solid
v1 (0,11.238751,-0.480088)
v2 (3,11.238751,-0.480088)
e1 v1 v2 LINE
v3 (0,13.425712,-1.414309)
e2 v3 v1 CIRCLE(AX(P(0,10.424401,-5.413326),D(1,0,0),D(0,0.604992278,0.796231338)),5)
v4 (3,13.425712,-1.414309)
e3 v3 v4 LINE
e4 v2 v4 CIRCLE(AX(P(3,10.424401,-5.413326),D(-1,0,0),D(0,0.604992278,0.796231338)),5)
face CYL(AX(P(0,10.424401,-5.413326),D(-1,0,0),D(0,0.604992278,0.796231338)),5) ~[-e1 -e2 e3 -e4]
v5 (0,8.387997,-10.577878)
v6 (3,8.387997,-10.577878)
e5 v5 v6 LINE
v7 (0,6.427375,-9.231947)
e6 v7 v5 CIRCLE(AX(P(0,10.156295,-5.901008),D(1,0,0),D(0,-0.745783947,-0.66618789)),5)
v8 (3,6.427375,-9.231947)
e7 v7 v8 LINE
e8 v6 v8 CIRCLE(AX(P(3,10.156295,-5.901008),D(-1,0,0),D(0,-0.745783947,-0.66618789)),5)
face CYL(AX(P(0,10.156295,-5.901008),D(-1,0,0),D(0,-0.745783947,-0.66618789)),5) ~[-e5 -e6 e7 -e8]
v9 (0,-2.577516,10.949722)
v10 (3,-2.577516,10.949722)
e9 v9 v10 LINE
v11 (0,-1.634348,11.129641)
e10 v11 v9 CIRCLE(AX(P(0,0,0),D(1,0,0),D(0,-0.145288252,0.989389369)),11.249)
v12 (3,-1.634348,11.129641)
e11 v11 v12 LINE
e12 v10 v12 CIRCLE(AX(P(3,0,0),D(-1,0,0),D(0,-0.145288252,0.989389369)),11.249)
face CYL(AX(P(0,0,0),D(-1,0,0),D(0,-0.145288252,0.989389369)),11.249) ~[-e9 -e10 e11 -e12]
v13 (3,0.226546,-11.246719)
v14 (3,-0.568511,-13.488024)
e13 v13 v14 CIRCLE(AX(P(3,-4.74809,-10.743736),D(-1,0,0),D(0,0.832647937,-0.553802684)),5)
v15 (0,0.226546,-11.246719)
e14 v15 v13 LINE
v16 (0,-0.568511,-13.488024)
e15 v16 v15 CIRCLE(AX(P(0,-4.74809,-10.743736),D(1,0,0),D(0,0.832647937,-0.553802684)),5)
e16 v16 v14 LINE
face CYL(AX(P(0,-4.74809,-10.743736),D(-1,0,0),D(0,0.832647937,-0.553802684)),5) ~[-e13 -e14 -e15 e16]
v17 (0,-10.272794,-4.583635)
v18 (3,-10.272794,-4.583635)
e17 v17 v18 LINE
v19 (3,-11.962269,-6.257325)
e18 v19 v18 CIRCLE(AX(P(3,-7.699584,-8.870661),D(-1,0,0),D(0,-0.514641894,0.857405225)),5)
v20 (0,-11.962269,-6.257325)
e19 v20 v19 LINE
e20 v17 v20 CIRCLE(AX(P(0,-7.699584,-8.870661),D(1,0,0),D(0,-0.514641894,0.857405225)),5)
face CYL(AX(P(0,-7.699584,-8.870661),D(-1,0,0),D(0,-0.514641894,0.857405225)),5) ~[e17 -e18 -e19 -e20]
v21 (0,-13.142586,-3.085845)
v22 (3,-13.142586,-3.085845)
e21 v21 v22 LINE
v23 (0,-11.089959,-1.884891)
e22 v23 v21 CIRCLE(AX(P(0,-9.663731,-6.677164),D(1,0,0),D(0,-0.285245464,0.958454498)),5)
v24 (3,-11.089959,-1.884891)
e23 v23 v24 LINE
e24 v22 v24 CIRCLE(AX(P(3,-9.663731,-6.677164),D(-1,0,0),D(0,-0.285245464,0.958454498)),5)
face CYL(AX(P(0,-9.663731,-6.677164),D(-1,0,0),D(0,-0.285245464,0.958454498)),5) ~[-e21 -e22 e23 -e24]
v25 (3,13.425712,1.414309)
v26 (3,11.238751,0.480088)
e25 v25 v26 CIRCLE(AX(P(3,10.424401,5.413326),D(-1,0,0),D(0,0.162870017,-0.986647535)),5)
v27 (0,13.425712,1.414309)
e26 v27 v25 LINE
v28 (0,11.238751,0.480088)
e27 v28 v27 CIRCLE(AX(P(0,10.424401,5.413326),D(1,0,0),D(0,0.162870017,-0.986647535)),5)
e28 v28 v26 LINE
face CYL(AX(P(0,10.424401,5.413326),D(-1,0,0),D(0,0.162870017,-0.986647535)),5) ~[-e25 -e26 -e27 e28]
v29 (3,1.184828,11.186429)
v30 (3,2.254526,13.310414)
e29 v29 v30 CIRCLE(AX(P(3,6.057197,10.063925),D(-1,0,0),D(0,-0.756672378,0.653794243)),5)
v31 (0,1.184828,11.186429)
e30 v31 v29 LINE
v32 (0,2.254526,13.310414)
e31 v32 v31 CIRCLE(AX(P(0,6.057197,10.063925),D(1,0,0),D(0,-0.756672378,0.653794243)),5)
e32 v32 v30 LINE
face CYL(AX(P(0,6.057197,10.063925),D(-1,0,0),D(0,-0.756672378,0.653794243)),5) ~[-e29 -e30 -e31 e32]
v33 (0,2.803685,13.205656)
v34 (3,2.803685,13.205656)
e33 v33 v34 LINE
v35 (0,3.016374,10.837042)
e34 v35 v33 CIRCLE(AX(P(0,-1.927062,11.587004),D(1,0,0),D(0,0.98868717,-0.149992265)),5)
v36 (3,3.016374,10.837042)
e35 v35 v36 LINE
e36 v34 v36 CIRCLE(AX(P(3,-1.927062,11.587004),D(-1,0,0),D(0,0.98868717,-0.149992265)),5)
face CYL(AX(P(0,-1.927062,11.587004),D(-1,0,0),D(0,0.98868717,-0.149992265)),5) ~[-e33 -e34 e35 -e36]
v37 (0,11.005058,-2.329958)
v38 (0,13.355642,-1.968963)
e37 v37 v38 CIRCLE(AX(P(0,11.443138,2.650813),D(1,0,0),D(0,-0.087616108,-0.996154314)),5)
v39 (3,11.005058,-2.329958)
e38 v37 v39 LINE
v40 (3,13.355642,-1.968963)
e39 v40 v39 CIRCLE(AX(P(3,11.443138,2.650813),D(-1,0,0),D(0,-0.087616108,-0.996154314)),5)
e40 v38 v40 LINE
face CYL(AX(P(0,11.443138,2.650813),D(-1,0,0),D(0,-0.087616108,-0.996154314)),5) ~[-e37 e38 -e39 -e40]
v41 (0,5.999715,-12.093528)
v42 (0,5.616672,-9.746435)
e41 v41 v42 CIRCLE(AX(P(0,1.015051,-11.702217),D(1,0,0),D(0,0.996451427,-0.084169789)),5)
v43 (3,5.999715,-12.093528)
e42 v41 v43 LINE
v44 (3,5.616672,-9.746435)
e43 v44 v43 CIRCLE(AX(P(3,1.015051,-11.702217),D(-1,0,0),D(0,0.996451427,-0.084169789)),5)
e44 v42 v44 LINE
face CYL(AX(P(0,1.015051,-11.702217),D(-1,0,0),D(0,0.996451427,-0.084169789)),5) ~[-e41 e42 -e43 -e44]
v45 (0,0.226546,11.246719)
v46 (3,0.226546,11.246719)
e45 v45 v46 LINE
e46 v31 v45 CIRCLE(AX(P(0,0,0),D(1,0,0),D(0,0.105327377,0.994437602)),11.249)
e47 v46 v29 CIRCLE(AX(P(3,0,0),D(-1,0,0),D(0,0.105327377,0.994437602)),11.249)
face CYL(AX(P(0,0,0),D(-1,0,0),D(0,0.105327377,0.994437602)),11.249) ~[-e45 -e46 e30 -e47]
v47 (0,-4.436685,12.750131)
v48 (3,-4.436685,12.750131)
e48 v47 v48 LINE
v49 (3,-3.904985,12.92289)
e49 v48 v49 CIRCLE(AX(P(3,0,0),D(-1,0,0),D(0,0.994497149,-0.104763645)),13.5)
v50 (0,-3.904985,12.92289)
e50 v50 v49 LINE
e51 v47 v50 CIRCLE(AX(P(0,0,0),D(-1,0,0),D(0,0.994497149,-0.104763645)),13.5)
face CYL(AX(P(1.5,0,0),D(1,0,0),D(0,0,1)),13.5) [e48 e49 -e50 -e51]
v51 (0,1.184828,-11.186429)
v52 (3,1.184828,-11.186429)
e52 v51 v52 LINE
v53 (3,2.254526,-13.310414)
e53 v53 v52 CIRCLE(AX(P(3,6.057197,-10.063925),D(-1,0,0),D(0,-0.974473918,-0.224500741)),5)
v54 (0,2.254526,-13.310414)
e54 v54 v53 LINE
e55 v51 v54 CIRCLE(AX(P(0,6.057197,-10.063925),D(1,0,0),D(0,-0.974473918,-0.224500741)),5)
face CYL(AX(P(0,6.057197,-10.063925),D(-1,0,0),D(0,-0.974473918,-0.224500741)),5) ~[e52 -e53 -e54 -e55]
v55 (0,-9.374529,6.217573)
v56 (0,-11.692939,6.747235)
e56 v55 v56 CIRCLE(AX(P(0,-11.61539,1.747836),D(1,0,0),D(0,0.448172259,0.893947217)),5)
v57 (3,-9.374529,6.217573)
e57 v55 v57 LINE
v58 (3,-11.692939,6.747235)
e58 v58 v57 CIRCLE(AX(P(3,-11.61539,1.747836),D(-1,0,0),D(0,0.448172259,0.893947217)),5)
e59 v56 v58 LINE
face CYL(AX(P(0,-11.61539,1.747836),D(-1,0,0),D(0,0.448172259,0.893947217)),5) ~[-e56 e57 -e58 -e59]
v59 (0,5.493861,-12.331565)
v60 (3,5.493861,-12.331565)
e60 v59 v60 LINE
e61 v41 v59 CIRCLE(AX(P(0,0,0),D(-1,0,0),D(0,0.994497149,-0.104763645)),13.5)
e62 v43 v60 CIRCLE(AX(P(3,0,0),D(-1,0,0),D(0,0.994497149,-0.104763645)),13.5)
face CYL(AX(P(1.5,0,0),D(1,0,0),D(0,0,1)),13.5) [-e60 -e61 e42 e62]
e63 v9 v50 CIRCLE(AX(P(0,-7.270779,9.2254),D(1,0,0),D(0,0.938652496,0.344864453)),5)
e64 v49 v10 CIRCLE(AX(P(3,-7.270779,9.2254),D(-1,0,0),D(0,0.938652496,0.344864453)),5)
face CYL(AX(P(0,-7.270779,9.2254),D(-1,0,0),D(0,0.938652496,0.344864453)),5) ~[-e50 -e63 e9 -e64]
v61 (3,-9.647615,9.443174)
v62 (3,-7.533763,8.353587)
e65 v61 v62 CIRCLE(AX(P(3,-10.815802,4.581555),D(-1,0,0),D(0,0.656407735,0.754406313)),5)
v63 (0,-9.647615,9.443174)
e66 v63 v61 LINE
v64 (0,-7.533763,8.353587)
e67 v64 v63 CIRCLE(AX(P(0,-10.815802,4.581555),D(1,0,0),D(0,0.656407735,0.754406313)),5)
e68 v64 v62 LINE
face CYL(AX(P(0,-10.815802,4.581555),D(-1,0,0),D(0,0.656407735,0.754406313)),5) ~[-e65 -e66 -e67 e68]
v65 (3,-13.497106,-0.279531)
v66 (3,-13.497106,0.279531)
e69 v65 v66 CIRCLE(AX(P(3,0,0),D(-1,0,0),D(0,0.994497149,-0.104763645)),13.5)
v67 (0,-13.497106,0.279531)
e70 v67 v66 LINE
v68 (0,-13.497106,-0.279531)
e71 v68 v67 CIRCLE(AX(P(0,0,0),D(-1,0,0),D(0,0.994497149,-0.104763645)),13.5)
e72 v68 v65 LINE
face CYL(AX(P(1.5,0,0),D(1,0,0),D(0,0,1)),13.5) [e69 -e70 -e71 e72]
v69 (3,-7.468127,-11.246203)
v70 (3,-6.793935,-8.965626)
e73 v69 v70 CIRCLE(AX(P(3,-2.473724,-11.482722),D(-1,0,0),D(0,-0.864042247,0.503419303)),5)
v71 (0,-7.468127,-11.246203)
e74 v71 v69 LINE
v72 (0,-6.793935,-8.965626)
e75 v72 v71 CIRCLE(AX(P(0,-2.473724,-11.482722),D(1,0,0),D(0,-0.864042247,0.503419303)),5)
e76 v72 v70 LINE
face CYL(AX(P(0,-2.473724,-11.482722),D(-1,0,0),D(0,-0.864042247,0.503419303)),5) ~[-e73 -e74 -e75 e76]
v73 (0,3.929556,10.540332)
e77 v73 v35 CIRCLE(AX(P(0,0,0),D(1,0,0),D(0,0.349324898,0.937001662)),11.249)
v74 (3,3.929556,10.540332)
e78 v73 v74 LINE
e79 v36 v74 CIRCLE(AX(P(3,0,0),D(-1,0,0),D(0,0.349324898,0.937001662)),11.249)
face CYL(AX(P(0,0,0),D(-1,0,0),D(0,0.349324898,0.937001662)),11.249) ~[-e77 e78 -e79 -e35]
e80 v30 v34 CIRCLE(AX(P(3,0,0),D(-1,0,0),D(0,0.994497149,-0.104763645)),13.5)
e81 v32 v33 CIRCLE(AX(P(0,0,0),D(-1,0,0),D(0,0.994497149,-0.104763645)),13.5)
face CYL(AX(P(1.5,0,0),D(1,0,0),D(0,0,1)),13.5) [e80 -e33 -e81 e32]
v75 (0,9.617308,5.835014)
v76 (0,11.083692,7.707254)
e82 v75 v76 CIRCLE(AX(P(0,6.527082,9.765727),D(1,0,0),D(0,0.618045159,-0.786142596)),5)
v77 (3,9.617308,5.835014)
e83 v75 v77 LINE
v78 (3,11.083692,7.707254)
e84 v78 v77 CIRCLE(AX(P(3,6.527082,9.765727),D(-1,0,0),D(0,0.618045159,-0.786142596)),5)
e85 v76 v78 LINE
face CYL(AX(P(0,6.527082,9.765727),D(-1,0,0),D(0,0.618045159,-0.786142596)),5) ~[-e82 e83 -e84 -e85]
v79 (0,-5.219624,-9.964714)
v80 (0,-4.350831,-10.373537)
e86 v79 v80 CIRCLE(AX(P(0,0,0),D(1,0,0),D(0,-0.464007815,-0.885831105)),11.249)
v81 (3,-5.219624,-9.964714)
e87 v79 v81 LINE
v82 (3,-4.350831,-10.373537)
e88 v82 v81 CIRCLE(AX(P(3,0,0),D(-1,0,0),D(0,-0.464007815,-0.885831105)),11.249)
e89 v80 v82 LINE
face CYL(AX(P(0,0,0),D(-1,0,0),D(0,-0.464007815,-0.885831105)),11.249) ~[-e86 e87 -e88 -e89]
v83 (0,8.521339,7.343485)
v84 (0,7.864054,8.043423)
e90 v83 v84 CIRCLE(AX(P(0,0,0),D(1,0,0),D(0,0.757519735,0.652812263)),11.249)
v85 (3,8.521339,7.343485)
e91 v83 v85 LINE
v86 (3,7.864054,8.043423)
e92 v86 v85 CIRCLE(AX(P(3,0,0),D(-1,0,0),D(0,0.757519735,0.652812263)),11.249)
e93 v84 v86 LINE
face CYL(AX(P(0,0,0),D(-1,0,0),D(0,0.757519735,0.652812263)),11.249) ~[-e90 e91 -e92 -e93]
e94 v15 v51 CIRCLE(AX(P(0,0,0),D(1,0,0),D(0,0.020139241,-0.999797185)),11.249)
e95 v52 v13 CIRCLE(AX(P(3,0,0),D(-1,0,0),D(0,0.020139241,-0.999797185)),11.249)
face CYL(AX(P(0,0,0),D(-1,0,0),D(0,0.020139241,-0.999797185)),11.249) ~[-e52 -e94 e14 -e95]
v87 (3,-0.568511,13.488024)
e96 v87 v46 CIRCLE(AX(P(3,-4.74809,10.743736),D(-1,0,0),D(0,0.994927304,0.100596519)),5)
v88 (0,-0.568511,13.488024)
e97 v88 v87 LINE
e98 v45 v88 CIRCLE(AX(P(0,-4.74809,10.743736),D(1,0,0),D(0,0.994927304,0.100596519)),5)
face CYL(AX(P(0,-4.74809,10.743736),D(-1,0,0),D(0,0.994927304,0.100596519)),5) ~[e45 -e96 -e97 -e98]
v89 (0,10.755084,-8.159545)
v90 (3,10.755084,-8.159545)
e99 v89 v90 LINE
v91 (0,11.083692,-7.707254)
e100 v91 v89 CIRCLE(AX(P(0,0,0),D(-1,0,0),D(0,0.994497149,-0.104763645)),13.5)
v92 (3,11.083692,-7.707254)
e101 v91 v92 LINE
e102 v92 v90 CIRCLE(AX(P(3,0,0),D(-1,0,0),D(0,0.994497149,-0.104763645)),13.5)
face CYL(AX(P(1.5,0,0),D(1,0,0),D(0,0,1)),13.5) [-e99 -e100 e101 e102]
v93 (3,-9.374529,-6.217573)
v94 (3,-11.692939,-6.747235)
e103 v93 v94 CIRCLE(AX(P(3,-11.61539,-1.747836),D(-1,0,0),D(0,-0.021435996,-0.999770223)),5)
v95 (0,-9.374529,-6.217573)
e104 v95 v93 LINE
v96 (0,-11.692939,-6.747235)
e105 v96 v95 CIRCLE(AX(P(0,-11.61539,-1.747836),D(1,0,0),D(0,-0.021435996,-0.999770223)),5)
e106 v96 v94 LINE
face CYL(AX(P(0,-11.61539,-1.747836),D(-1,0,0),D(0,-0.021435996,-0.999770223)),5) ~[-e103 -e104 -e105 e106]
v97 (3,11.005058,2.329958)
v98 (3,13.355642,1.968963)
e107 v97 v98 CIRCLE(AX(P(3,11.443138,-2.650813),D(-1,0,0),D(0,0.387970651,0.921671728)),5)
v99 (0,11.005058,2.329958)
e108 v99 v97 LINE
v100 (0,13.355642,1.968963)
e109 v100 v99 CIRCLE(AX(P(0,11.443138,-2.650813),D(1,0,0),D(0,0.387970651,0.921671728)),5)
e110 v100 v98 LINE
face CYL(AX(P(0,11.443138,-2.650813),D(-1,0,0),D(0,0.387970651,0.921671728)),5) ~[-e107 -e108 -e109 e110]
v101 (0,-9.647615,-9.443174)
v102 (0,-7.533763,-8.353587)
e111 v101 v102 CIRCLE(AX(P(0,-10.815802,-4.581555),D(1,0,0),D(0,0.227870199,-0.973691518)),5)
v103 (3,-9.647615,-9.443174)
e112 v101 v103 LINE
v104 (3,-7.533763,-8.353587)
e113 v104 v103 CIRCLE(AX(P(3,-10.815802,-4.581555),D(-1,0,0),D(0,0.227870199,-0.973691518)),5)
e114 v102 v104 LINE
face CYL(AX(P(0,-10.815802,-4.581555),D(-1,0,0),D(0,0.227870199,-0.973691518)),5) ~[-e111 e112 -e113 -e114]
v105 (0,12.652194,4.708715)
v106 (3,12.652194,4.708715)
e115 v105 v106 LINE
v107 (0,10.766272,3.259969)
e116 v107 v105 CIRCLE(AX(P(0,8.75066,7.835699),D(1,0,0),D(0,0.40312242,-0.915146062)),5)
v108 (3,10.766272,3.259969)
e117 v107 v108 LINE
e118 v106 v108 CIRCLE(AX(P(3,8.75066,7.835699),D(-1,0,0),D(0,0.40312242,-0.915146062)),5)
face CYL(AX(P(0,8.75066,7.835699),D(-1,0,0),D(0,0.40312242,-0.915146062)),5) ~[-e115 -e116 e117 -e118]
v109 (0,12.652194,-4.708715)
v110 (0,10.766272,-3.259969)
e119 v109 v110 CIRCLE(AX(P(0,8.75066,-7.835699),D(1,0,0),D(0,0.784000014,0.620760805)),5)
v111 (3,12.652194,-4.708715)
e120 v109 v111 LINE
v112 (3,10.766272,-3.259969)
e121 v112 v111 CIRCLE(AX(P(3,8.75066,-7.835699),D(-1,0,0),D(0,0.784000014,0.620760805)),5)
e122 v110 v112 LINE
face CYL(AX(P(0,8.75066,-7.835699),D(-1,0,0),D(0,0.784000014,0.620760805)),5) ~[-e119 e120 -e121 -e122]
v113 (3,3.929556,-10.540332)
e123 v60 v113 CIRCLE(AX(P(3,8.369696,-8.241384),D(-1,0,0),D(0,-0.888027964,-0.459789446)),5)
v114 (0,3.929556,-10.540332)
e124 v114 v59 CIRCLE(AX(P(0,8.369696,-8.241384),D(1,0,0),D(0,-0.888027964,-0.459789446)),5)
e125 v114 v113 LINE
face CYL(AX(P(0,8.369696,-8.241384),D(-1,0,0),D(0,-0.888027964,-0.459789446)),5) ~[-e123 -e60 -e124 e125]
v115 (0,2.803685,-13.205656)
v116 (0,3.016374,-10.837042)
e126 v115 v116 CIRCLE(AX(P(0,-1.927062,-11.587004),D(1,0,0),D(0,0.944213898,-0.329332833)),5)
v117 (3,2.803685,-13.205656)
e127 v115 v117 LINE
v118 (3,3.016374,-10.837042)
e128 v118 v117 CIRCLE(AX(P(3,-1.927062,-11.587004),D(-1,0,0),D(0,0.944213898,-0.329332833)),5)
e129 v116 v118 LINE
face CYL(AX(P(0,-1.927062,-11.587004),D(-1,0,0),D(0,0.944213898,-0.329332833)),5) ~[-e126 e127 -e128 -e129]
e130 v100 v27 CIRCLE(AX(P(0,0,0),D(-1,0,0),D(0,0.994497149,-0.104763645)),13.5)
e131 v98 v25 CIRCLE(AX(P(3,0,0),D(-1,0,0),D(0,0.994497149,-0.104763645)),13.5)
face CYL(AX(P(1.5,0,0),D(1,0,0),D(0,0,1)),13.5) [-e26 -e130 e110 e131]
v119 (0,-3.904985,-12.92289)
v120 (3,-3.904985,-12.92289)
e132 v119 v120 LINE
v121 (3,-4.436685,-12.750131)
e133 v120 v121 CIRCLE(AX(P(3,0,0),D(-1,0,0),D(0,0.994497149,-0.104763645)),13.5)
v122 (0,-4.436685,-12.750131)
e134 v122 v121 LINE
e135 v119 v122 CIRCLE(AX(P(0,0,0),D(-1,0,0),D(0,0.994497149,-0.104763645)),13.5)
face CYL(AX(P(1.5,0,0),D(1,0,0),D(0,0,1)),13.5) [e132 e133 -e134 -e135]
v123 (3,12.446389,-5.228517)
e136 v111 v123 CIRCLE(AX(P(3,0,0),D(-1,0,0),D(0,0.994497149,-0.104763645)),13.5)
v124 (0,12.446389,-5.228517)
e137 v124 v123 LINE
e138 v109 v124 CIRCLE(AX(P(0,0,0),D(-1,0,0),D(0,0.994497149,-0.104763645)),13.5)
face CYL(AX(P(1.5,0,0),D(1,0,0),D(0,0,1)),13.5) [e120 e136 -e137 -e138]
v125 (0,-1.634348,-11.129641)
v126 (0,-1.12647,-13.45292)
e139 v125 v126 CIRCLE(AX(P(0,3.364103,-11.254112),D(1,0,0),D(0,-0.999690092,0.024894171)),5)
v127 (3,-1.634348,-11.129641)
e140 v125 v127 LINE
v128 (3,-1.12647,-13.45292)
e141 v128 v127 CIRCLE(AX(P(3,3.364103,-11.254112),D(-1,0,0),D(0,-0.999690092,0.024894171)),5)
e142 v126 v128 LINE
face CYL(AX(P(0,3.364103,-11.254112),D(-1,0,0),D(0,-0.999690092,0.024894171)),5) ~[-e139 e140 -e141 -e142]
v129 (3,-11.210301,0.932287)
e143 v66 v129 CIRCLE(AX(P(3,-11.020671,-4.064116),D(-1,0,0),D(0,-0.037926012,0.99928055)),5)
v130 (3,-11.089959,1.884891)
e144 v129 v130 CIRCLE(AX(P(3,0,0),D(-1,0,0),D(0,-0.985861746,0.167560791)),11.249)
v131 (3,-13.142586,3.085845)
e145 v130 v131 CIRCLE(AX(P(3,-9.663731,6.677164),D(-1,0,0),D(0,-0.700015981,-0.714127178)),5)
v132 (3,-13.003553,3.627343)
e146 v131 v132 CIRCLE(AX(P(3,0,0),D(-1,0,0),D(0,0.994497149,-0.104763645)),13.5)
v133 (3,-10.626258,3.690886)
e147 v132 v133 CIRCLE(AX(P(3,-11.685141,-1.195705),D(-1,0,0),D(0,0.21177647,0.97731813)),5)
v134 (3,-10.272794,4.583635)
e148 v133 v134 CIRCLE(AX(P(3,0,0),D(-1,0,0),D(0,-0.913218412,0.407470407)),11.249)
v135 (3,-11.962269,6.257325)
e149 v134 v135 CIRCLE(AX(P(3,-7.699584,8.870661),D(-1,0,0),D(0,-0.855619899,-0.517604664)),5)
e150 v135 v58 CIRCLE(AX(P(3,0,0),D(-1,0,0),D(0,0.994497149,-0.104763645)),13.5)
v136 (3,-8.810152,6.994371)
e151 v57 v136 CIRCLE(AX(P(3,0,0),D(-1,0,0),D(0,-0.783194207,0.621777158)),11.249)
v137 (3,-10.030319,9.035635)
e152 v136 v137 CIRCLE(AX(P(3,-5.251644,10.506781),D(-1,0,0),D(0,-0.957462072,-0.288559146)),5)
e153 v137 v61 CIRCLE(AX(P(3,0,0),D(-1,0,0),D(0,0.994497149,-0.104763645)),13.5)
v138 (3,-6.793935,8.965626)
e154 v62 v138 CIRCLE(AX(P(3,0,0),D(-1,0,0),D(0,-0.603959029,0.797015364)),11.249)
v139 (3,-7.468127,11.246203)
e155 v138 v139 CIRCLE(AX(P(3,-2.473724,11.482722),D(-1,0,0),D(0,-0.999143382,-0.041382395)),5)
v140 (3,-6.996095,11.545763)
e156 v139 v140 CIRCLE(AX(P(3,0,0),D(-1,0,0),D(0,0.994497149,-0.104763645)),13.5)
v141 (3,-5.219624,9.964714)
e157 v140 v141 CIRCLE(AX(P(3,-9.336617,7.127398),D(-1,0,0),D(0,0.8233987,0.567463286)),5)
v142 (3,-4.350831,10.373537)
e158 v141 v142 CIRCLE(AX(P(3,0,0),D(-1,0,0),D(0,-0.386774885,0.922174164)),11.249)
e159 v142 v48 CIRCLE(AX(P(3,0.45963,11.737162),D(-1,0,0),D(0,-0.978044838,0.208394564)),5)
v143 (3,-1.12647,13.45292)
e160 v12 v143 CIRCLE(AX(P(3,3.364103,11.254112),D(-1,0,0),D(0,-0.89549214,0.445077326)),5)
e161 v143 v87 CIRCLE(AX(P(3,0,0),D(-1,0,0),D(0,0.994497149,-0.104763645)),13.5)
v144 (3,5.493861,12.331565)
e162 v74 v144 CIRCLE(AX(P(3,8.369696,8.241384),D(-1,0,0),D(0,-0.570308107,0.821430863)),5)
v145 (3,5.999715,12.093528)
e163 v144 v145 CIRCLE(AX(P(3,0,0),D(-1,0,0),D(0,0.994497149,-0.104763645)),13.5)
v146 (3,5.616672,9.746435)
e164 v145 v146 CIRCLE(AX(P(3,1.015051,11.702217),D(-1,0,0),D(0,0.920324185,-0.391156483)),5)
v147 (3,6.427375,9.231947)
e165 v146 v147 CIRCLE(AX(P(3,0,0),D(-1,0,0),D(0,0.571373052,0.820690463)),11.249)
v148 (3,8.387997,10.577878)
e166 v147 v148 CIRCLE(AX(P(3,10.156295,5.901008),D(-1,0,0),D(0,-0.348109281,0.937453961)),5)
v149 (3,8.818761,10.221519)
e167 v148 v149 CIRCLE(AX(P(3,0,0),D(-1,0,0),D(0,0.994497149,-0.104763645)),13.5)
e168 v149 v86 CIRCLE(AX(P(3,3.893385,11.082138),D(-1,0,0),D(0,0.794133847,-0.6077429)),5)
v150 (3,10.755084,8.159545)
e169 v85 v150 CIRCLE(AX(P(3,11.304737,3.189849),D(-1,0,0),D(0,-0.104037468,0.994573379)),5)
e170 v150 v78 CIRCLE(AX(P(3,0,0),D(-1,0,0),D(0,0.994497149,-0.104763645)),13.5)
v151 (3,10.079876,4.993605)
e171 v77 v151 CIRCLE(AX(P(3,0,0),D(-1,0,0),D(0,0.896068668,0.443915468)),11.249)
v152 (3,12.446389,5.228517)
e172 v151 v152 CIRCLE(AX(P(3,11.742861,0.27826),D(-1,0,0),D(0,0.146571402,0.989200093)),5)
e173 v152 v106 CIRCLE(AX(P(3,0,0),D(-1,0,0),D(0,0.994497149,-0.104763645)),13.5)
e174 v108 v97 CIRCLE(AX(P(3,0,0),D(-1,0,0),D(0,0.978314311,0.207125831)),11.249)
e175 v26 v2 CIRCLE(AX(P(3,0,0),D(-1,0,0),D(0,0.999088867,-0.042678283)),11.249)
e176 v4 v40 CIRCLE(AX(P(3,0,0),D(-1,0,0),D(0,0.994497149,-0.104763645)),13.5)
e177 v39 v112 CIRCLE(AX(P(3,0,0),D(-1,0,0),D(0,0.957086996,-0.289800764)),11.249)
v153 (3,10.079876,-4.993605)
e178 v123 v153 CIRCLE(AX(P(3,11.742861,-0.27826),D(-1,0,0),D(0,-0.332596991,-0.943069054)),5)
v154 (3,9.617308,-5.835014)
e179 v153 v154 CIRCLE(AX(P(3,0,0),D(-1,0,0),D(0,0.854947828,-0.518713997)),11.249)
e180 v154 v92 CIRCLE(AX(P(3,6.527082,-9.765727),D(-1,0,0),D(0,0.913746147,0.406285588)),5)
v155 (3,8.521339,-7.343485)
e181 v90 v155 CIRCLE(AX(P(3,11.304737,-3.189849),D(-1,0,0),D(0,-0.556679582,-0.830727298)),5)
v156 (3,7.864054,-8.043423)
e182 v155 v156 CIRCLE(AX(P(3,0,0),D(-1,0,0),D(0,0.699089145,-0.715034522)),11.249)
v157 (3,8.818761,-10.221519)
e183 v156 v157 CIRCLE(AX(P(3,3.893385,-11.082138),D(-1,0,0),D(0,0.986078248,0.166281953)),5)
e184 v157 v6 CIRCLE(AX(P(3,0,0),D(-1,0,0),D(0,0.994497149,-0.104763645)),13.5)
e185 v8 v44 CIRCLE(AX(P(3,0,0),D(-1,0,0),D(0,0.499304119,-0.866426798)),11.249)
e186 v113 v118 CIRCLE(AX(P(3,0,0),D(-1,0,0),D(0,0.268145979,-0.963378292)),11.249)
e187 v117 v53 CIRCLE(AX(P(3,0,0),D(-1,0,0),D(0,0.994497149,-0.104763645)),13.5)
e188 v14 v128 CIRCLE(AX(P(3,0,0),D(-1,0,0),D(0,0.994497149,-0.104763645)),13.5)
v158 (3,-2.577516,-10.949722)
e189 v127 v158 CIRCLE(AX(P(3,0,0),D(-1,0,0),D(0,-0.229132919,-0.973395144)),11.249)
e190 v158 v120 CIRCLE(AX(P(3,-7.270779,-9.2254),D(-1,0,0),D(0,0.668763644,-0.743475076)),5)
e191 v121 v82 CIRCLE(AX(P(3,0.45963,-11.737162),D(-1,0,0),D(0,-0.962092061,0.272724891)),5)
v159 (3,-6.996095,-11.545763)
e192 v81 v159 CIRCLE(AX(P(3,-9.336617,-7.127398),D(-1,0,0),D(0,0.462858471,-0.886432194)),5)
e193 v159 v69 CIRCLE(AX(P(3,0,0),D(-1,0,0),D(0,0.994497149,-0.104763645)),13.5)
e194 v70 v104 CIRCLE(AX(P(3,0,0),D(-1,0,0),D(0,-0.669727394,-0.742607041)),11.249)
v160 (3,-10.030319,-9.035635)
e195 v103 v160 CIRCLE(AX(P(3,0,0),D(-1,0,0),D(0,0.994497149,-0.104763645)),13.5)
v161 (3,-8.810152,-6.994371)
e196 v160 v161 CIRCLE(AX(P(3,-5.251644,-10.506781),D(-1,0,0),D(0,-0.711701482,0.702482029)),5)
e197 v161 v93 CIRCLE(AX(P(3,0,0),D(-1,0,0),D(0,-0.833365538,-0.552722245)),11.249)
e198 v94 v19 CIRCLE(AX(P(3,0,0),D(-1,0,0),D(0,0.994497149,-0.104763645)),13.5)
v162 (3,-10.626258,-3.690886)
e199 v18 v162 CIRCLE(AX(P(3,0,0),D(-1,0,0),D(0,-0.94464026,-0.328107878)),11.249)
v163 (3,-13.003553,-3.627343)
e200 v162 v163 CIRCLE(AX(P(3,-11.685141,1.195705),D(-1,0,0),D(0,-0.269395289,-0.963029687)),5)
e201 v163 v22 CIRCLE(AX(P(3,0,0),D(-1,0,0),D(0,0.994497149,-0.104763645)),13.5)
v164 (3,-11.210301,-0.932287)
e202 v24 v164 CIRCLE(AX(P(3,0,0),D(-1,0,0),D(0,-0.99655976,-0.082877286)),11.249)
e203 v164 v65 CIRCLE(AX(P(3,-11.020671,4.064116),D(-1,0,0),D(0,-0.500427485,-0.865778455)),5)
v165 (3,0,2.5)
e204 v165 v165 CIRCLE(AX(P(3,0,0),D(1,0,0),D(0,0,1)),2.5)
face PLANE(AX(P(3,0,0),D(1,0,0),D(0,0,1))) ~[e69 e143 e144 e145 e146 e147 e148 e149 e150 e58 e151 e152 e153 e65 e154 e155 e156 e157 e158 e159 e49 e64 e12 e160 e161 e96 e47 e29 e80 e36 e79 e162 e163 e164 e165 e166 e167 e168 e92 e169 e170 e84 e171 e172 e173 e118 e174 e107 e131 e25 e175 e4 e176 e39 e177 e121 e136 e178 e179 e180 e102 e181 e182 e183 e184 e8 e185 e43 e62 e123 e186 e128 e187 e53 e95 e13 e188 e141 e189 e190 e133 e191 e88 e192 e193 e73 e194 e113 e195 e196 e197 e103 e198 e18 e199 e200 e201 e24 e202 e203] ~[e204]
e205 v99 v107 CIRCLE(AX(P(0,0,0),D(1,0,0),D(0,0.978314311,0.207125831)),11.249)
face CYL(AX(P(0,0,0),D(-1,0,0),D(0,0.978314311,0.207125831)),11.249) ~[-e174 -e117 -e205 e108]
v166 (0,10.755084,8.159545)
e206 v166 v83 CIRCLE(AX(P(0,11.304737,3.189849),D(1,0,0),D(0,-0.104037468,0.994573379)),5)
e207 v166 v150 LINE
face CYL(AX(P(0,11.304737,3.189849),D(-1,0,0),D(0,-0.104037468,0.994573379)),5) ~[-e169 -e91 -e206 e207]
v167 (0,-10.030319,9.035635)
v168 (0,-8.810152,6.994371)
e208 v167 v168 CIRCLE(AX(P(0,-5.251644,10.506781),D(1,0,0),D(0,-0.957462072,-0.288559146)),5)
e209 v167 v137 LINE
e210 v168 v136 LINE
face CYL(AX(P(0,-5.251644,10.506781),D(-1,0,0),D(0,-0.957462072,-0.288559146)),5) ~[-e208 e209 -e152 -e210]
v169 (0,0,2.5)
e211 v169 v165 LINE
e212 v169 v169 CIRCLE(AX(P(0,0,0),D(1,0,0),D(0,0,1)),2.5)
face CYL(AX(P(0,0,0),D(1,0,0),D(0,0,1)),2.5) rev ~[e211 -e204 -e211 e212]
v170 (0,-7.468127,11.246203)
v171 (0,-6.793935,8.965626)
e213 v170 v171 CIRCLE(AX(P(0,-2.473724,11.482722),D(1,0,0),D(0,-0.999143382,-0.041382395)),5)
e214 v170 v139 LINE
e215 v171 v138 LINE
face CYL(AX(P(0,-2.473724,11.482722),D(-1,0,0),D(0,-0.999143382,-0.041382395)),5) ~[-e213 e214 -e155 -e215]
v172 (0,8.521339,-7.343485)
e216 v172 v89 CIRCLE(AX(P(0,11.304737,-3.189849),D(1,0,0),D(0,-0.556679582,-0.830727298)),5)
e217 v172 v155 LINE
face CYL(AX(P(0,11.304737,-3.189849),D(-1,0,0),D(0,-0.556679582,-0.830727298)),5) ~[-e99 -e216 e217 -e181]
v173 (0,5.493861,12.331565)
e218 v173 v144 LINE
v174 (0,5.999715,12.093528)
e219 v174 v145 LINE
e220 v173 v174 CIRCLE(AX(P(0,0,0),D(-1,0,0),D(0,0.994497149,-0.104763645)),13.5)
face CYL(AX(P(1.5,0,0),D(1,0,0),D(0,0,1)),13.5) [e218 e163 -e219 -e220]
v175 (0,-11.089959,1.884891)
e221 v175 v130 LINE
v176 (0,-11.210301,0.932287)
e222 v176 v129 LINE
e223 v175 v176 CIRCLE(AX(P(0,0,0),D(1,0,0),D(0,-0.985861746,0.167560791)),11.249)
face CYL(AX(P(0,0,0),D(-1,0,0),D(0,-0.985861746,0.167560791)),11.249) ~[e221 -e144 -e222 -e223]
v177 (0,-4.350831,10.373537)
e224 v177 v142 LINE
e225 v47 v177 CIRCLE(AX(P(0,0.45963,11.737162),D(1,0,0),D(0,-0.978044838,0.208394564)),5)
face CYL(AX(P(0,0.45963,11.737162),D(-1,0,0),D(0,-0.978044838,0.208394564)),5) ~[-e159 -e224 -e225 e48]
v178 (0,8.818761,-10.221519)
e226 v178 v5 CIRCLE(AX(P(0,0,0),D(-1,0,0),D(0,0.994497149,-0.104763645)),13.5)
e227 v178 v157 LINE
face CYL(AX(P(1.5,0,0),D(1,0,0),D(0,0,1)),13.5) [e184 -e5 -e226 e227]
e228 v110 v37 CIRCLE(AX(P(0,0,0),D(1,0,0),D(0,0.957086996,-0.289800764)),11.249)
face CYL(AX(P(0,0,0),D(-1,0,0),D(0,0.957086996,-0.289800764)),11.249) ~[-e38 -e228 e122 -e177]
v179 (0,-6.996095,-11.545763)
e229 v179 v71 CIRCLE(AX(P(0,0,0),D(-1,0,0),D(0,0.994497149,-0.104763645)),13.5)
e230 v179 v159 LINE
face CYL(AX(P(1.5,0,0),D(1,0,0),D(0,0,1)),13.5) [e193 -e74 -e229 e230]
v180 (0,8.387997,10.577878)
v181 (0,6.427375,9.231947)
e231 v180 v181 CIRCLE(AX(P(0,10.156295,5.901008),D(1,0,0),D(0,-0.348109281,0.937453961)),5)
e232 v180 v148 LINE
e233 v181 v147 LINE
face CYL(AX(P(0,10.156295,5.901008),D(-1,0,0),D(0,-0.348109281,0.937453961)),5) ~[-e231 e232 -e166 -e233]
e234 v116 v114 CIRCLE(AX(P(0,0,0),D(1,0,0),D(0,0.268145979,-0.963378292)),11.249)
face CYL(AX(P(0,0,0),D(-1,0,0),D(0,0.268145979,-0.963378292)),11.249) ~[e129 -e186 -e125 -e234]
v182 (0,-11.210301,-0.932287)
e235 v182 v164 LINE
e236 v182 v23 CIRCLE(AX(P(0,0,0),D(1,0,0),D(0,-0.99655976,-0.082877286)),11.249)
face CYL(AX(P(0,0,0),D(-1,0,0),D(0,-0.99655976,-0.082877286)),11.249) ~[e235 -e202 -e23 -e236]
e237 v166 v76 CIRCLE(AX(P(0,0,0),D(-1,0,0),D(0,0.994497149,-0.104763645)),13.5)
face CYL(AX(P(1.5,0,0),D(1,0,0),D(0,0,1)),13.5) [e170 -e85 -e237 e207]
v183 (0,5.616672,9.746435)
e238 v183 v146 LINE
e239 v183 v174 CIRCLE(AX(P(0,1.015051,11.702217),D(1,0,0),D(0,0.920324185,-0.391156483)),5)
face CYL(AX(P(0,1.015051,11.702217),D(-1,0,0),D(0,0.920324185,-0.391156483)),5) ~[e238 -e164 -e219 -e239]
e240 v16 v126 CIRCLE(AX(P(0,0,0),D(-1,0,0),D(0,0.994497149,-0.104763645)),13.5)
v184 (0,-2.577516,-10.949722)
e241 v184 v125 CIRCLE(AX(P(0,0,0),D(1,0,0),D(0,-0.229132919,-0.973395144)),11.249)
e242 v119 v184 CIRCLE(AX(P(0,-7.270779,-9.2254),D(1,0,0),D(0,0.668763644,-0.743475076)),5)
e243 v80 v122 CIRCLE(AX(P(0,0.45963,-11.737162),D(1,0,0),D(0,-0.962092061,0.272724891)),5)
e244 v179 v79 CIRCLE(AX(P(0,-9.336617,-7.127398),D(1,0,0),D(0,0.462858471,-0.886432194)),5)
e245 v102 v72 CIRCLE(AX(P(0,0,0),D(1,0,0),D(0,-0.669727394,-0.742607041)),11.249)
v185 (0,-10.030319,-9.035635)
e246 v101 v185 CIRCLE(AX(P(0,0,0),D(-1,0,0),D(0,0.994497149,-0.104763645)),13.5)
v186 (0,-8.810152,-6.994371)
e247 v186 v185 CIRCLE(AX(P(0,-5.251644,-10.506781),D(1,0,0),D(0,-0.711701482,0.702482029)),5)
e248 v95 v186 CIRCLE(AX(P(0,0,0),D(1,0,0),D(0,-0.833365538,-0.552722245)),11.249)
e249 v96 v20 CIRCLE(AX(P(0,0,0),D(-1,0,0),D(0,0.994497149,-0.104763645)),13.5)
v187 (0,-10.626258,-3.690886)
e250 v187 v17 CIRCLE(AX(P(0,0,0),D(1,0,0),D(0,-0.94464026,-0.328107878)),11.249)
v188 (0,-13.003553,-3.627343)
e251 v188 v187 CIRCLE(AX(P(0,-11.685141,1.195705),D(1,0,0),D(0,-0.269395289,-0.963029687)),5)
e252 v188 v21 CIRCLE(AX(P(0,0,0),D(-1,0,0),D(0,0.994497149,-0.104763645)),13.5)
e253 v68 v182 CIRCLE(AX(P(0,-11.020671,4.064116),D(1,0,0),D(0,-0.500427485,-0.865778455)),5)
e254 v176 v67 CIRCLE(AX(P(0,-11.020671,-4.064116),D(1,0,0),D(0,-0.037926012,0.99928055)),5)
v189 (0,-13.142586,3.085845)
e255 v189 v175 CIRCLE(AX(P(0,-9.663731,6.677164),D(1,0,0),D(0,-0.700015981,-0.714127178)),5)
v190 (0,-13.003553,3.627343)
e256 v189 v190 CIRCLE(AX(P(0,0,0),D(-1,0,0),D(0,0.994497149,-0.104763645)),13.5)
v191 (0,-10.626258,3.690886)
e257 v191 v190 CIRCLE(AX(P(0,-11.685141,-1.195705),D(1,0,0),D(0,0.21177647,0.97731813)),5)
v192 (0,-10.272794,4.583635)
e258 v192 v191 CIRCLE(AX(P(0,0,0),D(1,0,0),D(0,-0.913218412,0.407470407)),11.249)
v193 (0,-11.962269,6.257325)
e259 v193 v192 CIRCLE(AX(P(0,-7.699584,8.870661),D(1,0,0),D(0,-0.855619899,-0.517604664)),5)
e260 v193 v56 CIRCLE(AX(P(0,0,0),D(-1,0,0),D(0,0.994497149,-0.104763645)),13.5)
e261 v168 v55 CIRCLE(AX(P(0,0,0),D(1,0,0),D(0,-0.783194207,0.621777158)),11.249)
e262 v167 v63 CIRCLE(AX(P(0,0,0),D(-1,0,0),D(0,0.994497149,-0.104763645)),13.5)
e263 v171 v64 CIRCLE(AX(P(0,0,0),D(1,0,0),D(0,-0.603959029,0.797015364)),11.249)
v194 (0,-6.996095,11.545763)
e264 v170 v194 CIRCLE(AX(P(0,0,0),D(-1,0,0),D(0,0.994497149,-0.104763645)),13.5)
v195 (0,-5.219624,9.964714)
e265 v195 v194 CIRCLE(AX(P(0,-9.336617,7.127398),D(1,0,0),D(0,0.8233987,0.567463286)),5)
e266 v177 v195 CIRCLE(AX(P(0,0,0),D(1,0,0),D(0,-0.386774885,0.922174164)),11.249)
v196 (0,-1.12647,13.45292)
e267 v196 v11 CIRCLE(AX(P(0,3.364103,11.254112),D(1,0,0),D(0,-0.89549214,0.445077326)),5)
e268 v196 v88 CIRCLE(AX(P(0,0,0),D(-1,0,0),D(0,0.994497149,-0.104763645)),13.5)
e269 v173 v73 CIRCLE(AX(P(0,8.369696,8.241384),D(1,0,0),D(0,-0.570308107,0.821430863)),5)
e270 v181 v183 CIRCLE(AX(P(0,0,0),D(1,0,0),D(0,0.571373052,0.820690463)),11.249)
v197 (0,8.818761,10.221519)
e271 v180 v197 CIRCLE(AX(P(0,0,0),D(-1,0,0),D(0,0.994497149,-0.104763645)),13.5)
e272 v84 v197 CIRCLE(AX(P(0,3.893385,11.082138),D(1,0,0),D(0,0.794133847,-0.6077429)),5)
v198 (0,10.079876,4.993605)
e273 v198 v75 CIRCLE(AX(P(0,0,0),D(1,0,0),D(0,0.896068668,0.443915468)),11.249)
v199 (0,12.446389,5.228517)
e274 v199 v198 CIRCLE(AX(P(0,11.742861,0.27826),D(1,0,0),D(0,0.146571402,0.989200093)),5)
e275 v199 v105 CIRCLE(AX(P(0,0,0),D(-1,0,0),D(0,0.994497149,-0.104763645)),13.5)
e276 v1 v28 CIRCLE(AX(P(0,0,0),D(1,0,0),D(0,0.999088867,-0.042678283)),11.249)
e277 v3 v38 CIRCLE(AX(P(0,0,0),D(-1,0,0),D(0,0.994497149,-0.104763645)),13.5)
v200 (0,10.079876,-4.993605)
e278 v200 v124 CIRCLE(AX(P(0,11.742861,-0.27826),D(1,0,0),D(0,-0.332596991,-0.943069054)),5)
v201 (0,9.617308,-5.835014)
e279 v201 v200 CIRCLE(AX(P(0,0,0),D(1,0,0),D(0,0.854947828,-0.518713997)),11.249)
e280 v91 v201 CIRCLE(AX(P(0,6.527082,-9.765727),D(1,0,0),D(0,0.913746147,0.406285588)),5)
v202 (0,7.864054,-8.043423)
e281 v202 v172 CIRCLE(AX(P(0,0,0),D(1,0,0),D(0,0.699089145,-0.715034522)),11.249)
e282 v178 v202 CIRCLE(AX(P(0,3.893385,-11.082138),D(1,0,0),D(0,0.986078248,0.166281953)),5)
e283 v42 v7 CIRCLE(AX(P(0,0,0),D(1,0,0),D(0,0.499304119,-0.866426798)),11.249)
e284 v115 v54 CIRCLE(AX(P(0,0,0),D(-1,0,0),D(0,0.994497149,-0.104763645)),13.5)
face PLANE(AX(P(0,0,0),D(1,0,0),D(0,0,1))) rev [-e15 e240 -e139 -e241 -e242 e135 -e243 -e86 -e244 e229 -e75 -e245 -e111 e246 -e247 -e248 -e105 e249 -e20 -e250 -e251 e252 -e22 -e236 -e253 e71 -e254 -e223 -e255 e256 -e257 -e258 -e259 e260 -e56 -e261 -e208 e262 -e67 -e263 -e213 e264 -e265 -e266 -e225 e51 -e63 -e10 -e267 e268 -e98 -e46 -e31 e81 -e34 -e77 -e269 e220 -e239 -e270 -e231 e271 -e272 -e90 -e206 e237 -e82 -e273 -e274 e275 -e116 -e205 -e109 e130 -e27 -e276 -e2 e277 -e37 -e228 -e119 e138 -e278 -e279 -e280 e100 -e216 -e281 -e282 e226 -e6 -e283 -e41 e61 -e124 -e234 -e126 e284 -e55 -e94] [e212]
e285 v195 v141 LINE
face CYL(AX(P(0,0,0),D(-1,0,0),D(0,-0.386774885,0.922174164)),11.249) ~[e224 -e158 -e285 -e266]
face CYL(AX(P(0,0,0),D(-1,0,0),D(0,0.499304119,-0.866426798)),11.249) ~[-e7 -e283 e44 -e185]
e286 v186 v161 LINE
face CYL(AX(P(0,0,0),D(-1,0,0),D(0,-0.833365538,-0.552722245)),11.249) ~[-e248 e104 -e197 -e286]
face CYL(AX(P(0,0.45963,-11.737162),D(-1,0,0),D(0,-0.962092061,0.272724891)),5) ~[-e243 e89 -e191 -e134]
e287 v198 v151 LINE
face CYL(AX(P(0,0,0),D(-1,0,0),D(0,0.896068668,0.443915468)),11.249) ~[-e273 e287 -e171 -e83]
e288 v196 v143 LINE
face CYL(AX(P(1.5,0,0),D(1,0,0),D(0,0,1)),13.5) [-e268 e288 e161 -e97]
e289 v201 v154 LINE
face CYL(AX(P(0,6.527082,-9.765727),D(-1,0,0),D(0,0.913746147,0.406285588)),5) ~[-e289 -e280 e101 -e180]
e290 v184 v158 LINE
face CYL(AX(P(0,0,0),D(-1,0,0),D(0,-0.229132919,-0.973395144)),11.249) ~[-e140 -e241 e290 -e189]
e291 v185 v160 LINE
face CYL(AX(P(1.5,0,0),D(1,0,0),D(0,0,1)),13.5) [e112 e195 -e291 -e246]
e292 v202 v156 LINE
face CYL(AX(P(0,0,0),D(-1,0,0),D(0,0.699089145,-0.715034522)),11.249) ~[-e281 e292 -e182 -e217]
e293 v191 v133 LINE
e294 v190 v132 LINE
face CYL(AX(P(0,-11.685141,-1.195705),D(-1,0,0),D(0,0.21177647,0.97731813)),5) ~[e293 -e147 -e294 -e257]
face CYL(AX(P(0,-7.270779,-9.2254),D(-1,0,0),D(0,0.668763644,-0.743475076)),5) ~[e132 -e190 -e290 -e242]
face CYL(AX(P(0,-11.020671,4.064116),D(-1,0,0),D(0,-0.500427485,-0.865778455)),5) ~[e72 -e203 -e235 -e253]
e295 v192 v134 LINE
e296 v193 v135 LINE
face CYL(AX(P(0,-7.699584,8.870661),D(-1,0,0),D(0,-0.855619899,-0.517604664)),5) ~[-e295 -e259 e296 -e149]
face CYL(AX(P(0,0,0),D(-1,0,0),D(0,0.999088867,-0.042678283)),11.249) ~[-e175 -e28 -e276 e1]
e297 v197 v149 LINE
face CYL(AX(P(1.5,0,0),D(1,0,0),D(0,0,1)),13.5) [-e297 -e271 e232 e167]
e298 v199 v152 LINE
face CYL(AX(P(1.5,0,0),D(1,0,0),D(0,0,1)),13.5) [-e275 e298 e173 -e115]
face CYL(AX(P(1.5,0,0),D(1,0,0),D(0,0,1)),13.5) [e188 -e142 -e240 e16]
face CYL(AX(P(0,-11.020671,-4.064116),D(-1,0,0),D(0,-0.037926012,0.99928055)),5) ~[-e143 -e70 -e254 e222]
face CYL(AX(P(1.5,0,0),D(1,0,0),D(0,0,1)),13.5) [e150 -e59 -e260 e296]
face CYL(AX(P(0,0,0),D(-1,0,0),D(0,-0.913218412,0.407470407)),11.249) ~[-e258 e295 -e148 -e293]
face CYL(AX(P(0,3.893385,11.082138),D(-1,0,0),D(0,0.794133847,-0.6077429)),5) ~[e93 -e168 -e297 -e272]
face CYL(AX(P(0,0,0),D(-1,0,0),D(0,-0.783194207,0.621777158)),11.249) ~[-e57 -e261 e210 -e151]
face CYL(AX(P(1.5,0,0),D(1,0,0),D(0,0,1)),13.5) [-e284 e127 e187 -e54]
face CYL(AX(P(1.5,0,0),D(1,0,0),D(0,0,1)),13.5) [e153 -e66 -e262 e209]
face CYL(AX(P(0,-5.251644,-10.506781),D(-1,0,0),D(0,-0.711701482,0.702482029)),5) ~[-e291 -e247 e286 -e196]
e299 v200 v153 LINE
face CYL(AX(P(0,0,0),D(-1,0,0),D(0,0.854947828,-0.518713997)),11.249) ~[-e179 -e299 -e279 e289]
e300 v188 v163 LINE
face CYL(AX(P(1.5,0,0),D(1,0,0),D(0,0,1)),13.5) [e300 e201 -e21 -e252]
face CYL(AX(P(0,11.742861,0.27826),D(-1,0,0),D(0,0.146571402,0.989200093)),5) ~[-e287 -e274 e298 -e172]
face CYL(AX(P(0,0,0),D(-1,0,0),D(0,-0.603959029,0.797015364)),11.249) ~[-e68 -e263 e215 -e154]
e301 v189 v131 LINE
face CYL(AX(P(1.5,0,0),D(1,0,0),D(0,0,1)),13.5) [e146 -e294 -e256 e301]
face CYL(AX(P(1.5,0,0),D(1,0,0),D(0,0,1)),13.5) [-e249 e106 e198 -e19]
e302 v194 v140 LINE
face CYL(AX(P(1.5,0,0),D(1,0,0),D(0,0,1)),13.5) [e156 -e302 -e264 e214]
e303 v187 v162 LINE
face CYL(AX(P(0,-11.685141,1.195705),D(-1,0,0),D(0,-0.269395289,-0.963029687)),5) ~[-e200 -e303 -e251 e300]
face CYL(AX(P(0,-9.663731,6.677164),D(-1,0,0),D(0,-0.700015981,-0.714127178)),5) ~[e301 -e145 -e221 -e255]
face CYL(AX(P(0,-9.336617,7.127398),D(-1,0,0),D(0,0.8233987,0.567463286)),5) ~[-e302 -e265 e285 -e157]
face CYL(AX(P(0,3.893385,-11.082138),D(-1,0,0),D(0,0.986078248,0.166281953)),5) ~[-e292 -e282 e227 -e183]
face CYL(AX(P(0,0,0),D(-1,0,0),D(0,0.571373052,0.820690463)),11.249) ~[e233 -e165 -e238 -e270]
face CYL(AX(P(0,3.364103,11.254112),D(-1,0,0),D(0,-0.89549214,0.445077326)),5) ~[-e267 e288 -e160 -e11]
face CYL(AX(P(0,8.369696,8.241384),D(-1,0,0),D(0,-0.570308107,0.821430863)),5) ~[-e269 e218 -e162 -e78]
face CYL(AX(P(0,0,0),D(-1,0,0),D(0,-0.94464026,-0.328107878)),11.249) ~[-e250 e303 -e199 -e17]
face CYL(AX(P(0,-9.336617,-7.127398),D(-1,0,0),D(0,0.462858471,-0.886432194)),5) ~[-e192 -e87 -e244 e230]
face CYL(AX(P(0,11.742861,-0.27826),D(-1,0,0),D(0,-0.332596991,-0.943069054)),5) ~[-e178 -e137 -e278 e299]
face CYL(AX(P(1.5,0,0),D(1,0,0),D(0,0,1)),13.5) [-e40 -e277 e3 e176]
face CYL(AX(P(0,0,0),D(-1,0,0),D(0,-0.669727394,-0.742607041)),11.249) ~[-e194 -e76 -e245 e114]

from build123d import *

# Parameters (mm, degrees)
BASPROSKE_W     = 3
BASPROSKE_H     = 13.5
TOOTHCUT_DEPTH  = 20.32614809
TEETHCUTS_COUNT = 25
TEETHCUTS_ANGLE = 345.6
BORSKE_R        = 2.5
BORE_DEPTH      = 50.0000508


with BuildPart() as part:
    # BasProSke → Base-Revolve (revolve)
    with BuildSketch(Plane(origin=(0, 0, 0), x_dir=(1, 0, 0), z_dir=(0, 1, 0)), mode=Mode.PRIVATE) as base_revolve_sk:
        with Locations((1.5, 6.75)):
            Rectangle(BASPROSKE_W, BASPROSKE_H)
    revolve(base_revolve_sk.sketch.rotate(Axis((-10, 0, 0), (1, 0, 0)), 180), axis=Axis((-10, 0, 0), (1, 0, 0)))

    # TooCutSke → ToothCut (cut, through all)
    with BuildSketch(Plane(origin=(0, 0, 0), x_dir=(0, 0, -1), z_dir=(1, 0, 0))):
        with BuildLine():
            ThreePointArc((0.480087995, 11.238750665), (0, 11.249), (-0.480087995, 11.238750665))
            ThreePointArc((-0.480087995, 11.238750665), (-0.821124963, 12.40220054), (-1.432168974, 13.449361962))
            ThreePointArc((-1.432168974, 13.449361962), (0, 13.5254), (1.432168974, 13.449361962))
            ThreePointArc((1.432168974, 13.449361962), (0.821124963, 12.40220054), (0.480087995, 11.238750665))
        make_face()
    toothcut = extrude(amount=TOOTHCUT_DEPTH, mode=Mode.SUBTRACT)

    # TeethCuts: ToothCut ×25 about axis
    teethcuts_axis = Axis((-10, 0, 0), (1, 0, 0))
    for i in range(1, TEETHCUTS_COUNT):
        add(toothcut.rotate(teethcuts_axis, i * TEETHCUTS_ANGLE / (TEETHCUTS_COUNT - 1)), mode=Mode.SUBTRACT)

    # BorSke → Bore (cut, symmetric)
    with BuildSketch(Plane(origin=(0, 0, 0), x_dir=(0, 0, -1), z_dir=(1, 0, 0))):
        with Locations(Location((0, 0, 0), (0, 0, 180))):
            Circle(BORSKE_R)
    extrude(amount=BORE_DEPTH, both=True, mode=Mode.SUBTRACT)


solid = part.part
